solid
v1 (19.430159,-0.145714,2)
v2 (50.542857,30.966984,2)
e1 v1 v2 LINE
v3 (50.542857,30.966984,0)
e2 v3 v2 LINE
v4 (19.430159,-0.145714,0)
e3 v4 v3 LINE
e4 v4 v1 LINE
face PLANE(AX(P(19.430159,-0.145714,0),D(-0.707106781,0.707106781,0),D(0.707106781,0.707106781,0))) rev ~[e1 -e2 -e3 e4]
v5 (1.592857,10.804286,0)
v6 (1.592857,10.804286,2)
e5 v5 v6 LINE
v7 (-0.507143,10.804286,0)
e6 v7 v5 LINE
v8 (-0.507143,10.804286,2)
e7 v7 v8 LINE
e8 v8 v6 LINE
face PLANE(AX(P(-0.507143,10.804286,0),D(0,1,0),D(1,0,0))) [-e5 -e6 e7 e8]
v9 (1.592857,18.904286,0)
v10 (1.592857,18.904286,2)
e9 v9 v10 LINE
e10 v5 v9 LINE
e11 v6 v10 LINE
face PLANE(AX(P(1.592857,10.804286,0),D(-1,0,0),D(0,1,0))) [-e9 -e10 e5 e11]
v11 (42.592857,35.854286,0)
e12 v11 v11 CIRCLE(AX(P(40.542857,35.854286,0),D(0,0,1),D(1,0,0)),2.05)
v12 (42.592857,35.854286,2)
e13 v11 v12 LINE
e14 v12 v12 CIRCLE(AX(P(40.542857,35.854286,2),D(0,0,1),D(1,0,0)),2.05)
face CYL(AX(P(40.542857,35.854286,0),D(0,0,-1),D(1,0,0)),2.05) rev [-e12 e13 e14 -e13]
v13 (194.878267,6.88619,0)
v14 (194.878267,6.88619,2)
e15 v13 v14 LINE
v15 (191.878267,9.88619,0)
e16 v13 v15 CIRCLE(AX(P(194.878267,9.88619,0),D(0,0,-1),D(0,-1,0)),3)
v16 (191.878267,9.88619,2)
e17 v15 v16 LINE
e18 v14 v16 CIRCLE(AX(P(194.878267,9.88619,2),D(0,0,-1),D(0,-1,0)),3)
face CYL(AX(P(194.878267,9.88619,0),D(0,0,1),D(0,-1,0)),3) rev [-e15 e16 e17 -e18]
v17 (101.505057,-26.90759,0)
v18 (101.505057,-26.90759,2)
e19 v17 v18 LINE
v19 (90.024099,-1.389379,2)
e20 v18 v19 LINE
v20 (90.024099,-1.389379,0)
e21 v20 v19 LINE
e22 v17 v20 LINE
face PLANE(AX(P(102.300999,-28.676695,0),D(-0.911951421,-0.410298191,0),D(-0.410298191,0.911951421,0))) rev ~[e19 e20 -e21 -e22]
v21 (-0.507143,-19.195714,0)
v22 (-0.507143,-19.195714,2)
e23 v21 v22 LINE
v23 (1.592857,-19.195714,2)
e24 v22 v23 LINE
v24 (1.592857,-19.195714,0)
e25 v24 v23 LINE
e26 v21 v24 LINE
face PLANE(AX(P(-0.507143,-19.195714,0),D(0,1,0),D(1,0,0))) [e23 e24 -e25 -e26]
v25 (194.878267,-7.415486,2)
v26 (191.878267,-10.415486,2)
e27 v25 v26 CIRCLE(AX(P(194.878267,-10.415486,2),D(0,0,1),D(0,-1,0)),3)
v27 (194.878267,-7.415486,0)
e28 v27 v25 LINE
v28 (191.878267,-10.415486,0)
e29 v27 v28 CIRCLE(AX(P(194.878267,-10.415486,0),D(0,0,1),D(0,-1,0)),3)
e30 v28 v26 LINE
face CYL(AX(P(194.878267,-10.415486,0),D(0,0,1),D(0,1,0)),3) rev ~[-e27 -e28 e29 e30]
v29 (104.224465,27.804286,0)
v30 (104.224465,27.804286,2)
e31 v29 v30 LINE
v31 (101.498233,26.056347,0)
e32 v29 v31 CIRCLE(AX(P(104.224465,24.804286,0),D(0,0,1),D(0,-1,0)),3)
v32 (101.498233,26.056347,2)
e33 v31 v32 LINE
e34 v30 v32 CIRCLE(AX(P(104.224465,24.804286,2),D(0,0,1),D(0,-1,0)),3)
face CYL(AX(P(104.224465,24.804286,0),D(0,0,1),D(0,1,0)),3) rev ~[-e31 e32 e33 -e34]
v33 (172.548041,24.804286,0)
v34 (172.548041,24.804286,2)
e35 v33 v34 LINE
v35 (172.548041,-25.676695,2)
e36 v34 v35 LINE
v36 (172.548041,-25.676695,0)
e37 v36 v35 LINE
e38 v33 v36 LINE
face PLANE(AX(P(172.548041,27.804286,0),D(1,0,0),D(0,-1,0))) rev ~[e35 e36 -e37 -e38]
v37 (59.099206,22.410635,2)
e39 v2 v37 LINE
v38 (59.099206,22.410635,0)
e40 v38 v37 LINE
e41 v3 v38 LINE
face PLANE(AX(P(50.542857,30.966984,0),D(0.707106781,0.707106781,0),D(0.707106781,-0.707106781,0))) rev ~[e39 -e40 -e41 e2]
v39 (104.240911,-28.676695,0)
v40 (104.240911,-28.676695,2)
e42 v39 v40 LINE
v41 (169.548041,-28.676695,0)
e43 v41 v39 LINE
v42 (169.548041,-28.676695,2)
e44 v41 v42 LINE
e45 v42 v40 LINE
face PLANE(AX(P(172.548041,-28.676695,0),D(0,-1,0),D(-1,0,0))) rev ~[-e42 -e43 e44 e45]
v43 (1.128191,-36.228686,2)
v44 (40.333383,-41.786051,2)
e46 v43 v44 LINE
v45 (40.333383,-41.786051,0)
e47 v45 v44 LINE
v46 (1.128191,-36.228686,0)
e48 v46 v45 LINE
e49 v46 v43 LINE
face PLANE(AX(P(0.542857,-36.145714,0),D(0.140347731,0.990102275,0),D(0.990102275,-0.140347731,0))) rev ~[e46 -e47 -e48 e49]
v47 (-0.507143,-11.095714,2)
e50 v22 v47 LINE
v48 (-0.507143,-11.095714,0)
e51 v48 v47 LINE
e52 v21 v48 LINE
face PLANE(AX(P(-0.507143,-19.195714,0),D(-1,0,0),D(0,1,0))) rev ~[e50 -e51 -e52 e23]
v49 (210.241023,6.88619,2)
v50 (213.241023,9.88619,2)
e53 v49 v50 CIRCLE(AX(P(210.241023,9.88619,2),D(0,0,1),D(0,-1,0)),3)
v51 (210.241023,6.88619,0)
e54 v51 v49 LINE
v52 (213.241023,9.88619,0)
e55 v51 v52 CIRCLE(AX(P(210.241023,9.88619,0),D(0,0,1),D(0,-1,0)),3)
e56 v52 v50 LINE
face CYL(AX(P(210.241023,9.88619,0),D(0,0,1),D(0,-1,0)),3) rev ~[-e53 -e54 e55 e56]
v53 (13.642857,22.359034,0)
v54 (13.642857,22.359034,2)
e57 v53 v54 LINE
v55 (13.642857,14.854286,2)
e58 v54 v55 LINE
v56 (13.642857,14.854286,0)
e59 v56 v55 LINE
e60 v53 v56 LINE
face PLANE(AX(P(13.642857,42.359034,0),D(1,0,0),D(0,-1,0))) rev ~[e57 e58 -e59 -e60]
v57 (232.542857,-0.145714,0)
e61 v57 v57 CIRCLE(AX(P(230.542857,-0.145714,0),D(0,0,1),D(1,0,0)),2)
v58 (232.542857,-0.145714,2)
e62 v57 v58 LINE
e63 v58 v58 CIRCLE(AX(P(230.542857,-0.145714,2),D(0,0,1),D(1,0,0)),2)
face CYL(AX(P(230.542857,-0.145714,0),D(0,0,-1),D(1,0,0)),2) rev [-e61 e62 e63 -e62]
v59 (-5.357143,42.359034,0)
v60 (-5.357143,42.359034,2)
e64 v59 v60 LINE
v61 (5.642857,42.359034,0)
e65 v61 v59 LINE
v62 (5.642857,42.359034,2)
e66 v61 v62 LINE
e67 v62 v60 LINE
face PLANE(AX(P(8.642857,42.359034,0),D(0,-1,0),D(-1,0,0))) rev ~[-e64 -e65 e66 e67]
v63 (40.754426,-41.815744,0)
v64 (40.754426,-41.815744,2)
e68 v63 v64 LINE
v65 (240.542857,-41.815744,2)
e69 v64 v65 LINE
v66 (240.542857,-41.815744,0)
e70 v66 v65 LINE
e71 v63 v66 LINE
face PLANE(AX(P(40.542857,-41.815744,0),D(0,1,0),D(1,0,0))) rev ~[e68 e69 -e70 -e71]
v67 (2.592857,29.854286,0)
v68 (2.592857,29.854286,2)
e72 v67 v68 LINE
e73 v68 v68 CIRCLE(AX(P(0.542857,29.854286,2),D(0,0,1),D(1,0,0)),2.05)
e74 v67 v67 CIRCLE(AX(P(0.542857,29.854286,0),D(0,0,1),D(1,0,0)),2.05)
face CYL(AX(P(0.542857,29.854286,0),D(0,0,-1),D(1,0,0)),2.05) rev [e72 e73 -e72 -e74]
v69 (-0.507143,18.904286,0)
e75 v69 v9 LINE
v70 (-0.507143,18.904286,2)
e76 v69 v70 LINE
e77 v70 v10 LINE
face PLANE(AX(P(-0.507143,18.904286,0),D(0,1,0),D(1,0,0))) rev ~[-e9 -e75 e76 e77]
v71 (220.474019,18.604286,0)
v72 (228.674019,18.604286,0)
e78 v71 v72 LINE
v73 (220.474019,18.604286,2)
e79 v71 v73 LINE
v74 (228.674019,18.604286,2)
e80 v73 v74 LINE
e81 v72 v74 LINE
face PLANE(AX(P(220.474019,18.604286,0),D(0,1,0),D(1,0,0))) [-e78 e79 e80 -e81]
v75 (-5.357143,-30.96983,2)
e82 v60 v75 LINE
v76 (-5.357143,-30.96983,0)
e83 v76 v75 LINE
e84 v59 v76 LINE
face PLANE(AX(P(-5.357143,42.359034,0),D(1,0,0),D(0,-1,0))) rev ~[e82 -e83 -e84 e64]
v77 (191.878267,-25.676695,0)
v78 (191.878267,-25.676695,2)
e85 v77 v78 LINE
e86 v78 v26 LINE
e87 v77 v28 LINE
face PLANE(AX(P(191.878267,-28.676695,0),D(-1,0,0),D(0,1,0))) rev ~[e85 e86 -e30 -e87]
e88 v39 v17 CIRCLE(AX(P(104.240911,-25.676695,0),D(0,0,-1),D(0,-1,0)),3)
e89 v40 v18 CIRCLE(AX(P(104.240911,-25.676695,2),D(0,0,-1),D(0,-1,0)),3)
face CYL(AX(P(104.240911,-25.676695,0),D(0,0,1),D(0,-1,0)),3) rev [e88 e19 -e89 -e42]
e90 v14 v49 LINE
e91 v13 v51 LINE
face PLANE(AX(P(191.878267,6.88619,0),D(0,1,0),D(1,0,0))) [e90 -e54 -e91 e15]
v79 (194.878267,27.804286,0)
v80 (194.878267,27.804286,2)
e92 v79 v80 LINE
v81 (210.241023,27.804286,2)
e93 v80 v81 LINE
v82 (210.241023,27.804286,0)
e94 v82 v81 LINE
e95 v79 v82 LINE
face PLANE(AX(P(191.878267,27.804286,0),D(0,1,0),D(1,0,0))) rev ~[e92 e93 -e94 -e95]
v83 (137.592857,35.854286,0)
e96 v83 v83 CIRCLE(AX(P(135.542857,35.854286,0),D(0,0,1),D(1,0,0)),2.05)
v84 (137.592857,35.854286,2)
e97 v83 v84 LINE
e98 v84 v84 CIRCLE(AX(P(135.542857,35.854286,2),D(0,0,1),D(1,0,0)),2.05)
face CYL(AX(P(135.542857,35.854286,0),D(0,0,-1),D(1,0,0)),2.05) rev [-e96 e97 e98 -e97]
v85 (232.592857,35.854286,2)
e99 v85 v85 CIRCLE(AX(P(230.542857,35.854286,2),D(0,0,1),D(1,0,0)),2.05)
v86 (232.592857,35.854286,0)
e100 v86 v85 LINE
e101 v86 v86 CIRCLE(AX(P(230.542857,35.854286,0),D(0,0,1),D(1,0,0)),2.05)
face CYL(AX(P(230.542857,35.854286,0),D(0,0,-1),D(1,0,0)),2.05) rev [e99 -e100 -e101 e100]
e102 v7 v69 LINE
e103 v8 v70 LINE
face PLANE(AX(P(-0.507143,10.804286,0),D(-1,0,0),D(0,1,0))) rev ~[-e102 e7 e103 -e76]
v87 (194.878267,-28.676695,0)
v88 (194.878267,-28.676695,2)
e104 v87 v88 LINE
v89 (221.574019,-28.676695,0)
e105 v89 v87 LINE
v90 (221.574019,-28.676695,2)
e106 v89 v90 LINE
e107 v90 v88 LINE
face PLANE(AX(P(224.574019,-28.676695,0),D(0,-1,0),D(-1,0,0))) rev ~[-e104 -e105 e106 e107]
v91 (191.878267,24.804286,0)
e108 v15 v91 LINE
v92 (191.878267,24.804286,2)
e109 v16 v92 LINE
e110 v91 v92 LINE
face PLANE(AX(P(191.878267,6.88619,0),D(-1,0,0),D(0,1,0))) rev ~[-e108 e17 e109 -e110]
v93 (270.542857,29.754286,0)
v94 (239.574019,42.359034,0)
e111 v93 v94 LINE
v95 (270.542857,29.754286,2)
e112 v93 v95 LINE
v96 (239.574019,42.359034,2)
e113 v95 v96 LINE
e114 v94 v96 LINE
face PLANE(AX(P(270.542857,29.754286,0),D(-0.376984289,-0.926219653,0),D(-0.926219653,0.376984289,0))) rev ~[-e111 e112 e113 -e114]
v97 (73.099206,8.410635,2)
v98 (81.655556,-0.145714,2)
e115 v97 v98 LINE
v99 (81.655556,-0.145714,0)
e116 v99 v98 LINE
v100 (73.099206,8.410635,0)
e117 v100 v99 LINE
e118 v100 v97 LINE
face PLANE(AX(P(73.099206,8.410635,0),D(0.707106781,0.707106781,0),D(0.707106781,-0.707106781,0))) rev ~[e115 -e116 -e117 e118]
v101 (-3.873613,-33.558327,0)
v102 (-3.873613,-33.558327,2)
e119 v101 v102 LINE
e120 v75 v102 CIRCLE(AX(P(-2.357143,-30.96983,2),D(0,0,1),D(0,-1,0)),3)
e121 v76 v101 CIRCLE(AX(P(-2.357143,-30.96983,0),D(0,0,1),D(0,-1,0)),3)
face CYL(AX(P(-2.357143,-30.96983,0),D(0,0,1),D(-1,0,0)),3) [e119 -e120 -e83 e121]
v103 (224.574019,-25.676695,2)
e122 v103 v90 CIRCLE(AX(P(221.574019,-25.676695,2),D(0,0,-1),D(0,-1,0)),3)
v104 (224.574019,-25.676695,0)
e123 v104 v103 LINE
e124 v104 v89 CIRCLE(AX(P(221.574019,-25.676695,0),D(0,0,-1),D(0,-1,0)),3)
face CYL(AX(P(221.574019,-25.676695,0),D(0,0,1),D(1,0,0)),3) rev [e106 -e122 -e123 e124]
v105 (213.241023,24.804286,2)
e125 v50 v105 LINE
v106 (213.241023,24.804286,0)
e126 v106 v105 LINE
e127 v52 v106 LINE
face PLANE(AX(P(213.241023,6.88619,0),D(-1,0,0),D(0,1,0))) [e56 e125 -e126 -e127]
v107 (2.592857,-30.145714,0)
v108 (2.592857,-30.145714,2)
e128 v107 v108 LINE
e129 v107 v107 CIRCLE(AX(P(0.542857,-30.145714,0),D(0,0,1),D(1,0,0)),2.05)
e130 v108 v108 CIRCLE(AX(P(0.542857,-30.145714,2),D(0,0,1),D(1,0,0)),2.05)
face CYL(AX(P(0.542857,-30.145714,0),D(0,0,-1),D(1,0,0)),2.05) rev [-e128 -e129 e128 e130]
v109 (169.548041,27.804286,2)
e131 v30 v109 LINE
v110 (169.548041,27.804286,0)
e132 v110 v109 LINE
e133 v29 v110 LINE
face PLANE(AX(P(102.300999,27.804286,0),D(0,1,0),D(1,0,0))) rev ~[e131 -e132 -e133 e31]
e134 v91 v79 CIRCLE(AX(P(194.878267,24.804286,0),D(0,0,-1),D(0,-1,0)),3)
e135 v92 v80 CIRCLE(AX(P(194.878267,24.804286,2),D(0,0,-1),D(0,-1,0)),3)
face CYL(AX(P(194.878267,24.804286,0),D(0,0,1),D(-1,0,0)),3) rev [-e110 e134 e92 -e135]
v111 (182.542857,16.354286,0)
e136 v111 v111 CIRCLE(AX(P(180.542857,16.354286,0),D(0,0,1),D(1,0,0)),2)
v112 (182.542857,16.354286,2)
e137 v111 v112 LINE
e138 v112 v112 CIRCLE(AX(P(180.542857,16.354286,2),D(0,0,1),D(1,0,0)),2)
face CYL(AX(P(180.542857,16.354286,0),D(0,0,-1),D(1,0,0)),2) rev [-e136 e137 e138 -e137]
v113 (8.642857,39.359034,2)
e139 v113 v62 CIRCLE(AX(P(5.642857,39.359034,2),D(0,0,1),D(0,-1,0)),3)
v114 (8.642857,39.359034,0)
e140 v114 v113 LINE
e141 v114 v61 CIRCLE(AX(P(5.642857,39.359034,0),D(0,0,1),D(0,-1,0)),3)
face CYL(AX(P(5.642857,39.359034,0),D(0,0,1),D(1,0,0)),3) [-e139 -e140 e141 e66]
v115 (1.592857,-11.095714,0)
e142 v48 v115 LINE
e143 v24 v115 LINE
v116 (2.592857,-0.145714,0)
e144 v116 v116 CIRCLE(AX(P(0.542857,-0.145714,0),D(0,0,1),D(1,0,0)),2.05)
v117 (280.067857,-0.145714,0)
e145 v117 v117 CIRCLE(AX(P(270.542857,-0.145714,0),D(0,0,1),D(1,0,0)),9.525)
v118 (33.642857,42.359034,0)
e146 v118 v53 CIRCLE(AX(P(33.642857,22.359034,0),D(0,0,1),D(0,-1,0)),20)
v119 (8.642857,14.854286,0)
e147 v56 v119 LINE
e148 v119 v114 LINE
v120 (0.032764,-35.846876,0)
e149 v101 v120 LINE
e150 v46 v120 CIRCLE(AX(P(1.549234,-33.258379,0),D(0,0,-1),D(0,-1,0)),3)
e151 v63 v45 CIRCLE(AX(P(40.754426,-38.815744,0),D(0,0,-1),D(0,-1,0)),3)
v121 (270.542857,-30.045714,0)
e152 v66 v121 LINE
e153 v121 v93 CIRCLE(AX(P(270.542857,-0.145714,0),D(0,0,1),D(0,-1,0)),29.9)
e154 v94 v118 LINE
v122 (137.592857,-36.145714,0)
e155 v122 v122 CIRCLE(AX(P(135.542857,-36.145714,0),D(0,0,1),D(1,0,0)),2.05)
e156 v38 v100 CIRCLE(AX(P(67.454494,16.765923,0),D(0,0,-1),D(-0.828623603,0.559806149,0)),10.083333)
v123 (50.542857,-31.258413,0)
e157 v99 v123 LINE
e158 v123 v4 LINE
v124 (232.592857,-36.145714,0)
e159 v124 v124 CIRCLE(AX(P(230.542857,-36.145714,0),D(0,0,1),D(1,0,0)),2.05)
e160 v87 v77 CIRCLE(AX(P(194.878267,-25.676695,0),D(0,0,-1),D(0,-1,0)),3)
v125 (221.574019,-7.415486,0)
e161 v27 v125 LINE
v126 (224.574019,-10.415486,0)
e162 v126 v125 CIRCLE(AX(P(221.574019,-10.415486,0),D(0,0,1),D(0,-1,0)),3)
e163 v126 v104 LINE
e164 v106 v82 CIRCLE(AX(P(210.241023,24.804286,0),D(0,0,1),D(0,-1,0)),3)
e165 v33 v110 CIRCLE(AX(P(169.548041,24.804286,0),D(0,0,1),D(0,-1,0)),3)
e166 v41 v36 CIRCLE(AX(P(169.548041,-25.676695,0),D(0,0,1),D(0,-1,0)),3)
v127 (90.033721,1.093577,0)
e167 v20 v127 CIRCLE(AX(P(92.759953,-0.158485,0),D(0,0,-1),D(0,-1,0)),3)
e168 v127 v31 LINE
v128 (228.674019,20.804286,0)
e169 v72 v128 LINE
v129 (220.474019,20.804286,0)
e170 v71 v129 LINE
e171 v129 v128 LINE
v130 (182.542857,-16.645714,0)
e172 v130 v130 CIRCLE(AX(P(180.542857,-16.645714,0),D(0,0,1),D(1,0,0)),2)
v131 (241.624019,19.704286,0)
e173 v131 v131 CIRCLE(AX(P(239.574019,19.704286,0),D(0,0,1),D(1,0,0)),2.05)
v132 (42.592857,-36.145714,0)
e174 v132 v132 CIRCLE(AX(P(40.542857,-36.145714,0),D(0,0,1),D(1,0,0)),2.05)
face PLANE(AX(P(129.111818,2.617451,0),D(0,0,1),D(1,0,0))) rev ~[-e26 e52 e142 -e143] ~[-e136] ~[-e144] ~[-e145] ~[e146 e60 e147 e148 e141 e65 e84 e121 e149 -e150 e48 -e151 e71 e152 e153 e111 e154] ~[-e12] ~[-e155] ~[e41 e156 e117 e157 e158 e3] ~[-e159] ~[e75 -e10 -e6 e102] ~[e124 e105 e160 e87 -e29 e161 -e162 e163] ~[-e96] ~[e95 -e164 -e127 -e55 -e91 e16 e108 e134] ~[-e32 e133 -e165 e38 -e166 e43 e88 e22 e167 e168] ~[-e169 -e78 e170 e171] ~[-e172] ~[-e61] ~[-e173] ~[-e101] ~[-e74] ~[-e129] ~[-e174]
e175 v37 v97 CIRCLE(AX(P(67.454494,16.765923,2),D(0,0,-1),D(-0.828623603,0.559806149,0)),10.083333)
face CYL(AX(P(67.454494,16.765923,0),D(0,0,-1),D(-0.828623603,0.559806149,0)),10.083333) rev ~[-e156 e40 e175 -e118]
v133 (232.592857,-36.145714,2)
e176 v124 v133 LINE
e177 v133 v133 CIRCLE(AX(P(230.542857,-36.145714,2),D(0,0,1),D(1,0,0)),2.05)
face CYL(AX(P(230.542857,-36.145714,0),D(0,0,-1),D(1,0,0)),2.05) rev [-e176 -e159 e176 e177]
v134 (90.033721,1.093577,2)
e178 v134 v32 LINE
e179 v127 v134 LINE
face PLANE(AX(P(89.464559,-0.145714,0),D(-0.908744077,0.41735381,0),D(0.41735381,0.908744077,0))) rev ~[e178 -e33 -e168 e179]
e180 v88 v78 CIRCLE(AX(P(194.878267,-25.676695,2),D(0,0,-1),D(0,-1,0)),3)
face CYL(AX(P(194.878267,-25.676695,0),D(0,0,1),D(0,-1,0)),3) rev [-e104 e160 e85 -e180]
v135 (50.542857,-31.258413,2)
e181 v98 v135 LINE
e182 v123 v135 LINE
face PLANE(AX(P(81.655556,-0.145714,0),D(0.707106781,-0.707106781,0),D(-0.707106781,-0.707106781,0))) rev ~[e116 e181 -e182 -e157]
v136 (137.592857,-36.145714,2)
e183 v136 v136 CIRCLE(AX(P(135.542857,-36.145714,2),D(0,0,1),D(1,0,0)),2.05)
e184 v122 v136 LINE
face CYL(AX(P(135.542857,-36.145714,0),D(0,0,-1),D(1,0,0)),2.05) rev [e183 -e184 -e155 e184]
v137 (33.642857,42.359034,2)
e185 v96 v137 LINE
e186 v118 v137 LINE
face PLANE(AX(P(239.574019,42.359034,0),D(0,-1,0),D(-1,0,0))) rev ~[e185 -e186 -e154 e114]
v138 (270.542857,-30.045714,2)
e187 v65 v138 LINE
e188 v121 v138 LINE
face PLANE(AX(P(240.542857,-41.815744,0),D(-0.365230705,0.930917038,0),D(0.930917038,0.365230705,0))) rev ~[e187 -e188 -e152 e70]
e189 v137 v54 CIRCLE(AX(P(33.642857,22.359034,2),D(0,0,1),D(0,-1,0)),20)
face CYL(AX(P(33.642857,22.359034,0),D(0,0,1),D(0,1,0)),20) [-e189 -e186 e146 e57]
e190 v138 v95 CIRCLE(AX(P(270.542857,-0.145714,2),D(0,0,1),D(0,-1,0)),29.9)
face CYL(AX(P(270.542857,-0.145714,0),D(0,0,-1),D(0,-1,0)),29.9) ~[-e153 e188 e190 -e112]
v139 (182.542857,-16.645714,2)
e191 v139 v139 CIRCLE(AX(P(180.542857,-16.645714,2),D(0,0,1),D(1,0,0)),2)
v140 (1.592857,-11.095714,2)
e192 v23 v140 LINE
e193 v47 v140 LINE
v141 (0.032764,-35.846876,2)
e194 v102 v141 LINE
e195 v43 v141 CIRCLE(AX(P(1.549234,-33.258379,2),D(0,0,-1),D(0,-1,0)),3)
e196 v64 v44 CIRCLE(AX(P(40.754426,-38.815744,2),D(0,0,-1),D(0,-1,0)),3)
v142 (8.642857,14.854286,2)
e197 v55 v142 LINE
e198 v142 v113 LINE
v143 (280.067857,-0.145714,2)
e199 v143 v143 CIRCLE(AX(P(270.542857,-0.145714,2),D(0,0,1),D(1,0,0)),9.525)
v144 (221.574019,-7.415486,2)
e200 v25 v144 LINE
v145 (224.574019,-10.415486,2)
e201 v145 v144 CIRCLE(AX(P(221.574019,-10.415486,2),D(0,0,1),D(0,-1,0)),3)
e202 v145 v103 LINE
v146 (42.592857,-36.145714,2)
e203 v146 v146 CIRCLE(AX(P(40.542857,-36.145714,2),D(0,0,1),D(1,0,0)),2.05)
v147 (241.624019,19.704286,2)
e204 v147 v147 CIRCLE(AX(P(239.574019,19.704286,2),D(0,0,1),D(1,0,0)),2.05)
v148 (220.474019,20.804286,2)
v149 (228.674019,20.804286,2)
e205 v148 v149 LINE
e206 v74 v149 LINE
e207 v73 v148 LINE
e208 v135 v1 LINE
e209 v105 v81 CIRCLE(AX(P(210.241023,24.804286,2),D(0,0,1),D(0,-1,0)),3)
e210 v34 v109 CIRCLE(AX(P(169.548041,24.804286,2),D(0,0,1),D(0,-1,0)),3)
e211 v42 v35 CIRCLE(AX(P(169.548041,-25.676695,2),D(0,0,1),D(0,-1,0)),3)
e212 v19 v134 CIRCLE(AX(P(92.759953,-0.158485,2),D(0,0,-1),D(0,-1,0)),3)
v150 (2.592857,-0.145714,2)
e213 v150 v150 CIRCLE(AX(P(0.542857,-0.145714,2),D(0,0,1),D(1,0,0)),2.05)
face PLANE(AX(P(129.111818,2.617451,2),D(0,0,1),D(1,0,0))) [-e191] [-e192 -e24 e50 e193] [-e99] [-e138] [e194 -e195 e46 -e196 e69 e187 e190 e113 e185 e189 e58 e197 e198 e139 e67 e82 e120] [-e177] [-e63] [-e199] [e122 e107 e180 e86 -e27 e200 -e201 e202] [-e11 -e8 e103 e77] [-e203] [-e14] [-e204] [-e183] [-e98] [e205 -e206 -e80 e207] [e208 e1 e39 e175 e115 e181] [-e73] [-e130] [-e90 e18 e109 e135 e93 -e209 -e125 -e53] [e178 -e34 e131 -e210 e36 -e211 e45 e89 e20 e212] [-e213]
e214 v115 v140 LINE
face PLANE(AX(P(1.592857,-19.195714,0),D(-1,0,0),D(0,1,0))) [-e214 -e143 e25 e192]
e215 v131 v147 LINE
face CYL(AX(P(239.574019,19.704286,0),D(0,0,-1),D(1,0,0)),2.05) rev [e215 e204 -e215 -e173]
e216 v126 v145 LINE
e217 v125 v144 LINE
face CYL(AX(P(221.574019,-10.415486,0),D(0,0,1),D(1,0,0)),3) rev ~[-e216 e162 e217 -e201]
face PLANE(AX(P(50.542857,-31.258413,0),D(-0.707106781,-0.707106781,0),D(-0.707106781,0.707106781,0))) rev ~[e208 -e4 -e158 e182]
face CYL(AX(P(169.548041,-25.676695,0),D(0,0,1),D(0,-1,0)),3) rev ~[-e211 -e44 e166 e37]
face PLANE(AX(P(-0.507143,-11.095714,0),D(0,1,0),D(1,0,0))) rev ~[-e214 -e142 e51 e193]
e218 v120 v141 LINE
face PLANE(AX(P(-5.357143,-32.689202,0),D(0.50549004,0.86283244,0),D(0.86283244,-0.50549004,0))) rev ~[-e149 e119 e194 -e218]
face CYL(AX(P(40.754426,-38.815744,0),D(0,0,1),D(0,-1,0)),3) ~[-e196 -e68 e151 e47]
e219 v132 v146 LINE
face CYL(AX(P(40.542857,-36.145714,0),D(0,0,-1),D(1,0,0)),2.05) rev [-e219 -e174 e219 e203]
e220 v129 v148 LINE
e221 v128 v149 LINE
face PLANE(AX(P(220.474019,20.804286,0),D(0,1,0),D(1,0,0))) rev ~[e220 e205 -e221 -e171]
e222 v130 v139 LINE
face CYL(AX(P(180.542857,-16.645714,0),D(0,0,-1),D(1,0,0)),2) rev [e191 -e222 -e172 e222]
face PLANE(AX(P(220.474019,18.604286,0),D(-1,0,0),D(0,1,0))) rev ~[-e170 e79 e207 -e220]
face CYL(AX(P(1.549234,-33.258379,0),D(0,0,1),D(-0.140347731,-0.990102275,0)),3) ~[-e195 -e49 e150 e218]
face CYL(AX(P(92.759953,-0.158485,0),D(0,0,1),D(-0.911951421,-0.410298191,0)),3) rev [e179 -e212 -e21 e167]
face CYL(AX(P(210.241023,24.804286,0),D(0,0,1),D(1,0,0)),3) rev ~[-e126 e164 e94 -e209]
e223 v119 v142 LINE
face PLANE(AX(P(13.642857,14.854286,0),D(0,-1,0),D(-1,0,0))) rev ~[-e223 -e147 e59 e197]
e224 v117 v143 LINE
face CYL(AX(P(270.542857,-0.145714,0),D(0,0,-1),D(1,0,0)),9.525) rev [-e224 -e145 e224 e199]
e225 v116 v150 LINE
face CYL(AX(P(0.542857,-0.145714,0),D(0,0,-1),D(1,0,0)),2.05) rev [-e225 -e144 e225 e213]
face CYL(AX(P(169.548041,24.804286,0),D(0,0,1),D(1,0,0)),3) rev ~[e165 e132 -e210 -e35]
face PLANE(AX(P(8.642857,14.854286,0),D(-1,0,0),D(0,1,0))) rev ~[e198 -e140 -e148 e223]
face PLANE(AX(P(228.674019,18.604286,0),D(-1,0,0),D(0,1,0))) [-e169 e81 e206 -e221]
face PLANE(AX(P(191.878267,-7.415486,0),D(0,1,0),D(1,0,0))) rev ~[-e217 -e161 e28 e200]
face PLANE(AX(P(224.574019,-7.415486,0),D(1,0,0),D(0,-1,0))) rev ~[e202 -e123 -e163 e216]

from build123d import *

# Parameters (mm, degrees)
SKETCH_1_R      = 2.05
SKETCH_1_W      = 2.1
SKETCH_1_H      = 8.1
SKETCH_1_R_2    = 2
SKETCH_1_R_3    = 9.525
SKETCH_1_W_2    = 21.362756018
SKETCH_1_H_2    = 20.918096029
SKETCH_1_W_3    = 8.2
SKETCH_1_H_3    = 2.2
EXTRUDE_1_DEPTH = 2
FILLET_1_R      = 3
FILLET_2_R      = 20
FILLET_4_R      = 3


with BuildPart() as part:
    # 草图1 → 凸台-拉伸1 (new body)
    with BuildSketch(Plane.XY):
        with BuildLine():
            Line((240.542857143, -41.815743938), (270.542857143, -30.045714286))
            ThreePointArc((270.542857143, -30.045714286), (300.442857143, -0.145714286), (270.542857143, 29.754285714))
            Line((270.542857143, 29.754285714), (239.574018739, 42.359033922))
            Line((239.574018739, 42.359033922), (13.642857143, 42.359033922))
            Line((13.642857143, 42.359033922), (13.642857143, 14.854285714))
            Line((13.642857143, 14.854285714), (8.642857143, 14.854285714))
            Line((8.642857143, 14.854285714), (8.642857143, 42.359033922))
            Line((8.642857143, 42.359033922), (-5.357142857, 42.359033922))
            Line((-5.357142857, 42.359033922), (-5.357142857, -32.689201643))
            Line((-5.357142857, -32.689201643), (0.542857143, -36.145714286))
            Line((0.542857143, -36.145714286), (40.542857143, -41.815743938))
            Line((40.542857143, -41.815743938), (240.542857143, -41.815743938))
        make_face()
        with Locations((40.542857143, -36.145714286)):
            Circle(SKETCH_1_R, mode=Mode.SUBTRACT)
        with Locations((0.542857143, -30.145714286)):
            Circle(SKETCH_1_R, mode=Mode.SUBTRACT)
        with Locations((135.542857143, -36.145714286)):
            Circle(SKETCH_1_R, mode=Mode.SUBTRACT)
        with Locations((0.542857143, -15.145714286)):
            Rectangle(SKETCH_1_W, SKETCH_1_H, mode=Mode.SUBTRACT)
        with Locations((0.542857143, -0.145714286)):
            Circle(SKETCH_1_R, mode=Mode.SUBTRACT)
        with BuildLine():
            Line((50.542857143, 30.966984086), (59.099206329, 22.4106349))
            ThreePointArc((59.099206329, 22.4106349), (74.584487703, 23.895916275), (73.099206329, 8.4106349))
            Line((73.099206329, 8.4106349), (81.655555515, -0.145714286))
            Line((81.655555515, -0.145714286), (50.542857143, -31.258412658))
            Line((50.542857143, -31.258412658), (19.430158771, -0.145714286))
            Line((19.430158771, -0.145714286), (50.542857143, 30.966984086))
        make_face(mode=Mode.SUBTRACT)
        Polygon((102.300999077, -28.676695157), (89.464558906, -0.145714286), (102.300999077, 27.804285714), (172.548041202, 27.804285714), (172.548041202, -28.676695157), align=None, mode=Mode.SUBTRACT)
        with Locations((230.542857143, -36.145714286)):
            Circle(SKETCH_1_R, mode=Mode.SUBTRACT)
        with Locations((180.542857143, -16.645714286)):
            Circle(SKETCH_1_R_2, mode=Mode.SUBTRACT)
        Polygon((224.574018739, -28.676695157), (213.241022587, -28.676695157), (191.878266569, -28.676695157), (191.878266569, -7.415485794), (224.574018739, -7.415485794), align=None, mode=Mode.SUBTRACT)
        with Locations((230.542857143, -0.145714286)):
            Circle(SKETCH_1_R_2, mode=Mode.SUBTRACT)
        with Locations((270.542857143, -0.145714286)):
            Circle(SKETCH_1_R_3, mode=Mode.SUBTRACT)
        with Locations((0.542857143, 14.854285714)):
            Rectangle(SKETCH_1_W, SKETCH_1_H, mode=Mode.SUBTRACT)
        with Locations((0.542857143, 29.854285714)):
            Circle(SKETCH_1_R, mode=Mode.SUBTRACT)
        with Locations((40.542857143, 35.854285714)):
            Circle(SKETCH_1_R, mode=Mode.SUBTRACT)
        with Locations((135.542857143, 35.854285714)):
            Circle(SKETCH_1_R, mode=Mode.SUBTRACT)
        with Locations((180.542857143, 16.354285714)):
            Circle(SKETCH_1_R_2, mode=Mode.SUBTRACT)
        with Locations((202.559644578, 17.3452377)):
            Rectangle(SKETCH_1_W_2, SKETCH_1_H_2, mode=Mode.SUBTRACT)
        with Locations((224.574018739, 19.704285714)):
            Rectangle(SKETCH_1_W_3, SKETCH_1_H_3, mode=Mode.SUBTRACT)
        with Locations((239.574018739, 19.704285714)):
            Circle(SKETCH_1_R, mode=Mode.SUBTRACT)
        with Locations((230.542857143, 35.854285714)):
            Circle(SKETCH_1_R, mode=Mode.SUBTRACT)
    extrude(amount=EXTRUDE_1_DEPTH)

    # 圆角1
    fillet_1_edges = [part.edges().sort_by_distance(p)[0] for p in [
        (224.574018739, -7.415485794, 1),
        (191.878266569, -7.415485794, 1),
        (191.878266569, -28.676695157, 1),
        (224.574018739, -28.676695157, 1),
        (172.548041202, -28.676695157, 1),
        (172.548041202, 27.804285714, 1),
        (102.300999077, 27.804285714, 1),
        (89.464558906, -0.145714286, 1),
        (102.300999077, -28.676695157, 1),
        (191.878266569, 27.804285714, 1),
        (191.878266569, 6.886189685, 1),
        (213.241022587, 6.886189685, 1),
        (213.241022587, 27.804285714, 1),
    ]]
    fillet(fillet_1_edges, radius=FILLET_1_R)

    # 圆角2
    fillet_2_edges = [part.edges().sort_by_distance(p)[0] for p in [
        (13.642857143, 42.359033922, 1),
    ]]
    fillet(fillet_2_edges, radius=FILLET_2_R)

    # 圆角4
    fillet_4_edges = [part.edges().sort_by_distance(p)[0] for p in [
        (40.542857143, -41.815743938, 1),
        (0.542857143, -36.145714286, 1),
        (-5.357142857, -32.689201643, 1),
        (8.642857143, 42.359033922, 1),
    ]]
    fillet(fillet_4_edges, radius=FILLET_4_R)


solid = part.part
